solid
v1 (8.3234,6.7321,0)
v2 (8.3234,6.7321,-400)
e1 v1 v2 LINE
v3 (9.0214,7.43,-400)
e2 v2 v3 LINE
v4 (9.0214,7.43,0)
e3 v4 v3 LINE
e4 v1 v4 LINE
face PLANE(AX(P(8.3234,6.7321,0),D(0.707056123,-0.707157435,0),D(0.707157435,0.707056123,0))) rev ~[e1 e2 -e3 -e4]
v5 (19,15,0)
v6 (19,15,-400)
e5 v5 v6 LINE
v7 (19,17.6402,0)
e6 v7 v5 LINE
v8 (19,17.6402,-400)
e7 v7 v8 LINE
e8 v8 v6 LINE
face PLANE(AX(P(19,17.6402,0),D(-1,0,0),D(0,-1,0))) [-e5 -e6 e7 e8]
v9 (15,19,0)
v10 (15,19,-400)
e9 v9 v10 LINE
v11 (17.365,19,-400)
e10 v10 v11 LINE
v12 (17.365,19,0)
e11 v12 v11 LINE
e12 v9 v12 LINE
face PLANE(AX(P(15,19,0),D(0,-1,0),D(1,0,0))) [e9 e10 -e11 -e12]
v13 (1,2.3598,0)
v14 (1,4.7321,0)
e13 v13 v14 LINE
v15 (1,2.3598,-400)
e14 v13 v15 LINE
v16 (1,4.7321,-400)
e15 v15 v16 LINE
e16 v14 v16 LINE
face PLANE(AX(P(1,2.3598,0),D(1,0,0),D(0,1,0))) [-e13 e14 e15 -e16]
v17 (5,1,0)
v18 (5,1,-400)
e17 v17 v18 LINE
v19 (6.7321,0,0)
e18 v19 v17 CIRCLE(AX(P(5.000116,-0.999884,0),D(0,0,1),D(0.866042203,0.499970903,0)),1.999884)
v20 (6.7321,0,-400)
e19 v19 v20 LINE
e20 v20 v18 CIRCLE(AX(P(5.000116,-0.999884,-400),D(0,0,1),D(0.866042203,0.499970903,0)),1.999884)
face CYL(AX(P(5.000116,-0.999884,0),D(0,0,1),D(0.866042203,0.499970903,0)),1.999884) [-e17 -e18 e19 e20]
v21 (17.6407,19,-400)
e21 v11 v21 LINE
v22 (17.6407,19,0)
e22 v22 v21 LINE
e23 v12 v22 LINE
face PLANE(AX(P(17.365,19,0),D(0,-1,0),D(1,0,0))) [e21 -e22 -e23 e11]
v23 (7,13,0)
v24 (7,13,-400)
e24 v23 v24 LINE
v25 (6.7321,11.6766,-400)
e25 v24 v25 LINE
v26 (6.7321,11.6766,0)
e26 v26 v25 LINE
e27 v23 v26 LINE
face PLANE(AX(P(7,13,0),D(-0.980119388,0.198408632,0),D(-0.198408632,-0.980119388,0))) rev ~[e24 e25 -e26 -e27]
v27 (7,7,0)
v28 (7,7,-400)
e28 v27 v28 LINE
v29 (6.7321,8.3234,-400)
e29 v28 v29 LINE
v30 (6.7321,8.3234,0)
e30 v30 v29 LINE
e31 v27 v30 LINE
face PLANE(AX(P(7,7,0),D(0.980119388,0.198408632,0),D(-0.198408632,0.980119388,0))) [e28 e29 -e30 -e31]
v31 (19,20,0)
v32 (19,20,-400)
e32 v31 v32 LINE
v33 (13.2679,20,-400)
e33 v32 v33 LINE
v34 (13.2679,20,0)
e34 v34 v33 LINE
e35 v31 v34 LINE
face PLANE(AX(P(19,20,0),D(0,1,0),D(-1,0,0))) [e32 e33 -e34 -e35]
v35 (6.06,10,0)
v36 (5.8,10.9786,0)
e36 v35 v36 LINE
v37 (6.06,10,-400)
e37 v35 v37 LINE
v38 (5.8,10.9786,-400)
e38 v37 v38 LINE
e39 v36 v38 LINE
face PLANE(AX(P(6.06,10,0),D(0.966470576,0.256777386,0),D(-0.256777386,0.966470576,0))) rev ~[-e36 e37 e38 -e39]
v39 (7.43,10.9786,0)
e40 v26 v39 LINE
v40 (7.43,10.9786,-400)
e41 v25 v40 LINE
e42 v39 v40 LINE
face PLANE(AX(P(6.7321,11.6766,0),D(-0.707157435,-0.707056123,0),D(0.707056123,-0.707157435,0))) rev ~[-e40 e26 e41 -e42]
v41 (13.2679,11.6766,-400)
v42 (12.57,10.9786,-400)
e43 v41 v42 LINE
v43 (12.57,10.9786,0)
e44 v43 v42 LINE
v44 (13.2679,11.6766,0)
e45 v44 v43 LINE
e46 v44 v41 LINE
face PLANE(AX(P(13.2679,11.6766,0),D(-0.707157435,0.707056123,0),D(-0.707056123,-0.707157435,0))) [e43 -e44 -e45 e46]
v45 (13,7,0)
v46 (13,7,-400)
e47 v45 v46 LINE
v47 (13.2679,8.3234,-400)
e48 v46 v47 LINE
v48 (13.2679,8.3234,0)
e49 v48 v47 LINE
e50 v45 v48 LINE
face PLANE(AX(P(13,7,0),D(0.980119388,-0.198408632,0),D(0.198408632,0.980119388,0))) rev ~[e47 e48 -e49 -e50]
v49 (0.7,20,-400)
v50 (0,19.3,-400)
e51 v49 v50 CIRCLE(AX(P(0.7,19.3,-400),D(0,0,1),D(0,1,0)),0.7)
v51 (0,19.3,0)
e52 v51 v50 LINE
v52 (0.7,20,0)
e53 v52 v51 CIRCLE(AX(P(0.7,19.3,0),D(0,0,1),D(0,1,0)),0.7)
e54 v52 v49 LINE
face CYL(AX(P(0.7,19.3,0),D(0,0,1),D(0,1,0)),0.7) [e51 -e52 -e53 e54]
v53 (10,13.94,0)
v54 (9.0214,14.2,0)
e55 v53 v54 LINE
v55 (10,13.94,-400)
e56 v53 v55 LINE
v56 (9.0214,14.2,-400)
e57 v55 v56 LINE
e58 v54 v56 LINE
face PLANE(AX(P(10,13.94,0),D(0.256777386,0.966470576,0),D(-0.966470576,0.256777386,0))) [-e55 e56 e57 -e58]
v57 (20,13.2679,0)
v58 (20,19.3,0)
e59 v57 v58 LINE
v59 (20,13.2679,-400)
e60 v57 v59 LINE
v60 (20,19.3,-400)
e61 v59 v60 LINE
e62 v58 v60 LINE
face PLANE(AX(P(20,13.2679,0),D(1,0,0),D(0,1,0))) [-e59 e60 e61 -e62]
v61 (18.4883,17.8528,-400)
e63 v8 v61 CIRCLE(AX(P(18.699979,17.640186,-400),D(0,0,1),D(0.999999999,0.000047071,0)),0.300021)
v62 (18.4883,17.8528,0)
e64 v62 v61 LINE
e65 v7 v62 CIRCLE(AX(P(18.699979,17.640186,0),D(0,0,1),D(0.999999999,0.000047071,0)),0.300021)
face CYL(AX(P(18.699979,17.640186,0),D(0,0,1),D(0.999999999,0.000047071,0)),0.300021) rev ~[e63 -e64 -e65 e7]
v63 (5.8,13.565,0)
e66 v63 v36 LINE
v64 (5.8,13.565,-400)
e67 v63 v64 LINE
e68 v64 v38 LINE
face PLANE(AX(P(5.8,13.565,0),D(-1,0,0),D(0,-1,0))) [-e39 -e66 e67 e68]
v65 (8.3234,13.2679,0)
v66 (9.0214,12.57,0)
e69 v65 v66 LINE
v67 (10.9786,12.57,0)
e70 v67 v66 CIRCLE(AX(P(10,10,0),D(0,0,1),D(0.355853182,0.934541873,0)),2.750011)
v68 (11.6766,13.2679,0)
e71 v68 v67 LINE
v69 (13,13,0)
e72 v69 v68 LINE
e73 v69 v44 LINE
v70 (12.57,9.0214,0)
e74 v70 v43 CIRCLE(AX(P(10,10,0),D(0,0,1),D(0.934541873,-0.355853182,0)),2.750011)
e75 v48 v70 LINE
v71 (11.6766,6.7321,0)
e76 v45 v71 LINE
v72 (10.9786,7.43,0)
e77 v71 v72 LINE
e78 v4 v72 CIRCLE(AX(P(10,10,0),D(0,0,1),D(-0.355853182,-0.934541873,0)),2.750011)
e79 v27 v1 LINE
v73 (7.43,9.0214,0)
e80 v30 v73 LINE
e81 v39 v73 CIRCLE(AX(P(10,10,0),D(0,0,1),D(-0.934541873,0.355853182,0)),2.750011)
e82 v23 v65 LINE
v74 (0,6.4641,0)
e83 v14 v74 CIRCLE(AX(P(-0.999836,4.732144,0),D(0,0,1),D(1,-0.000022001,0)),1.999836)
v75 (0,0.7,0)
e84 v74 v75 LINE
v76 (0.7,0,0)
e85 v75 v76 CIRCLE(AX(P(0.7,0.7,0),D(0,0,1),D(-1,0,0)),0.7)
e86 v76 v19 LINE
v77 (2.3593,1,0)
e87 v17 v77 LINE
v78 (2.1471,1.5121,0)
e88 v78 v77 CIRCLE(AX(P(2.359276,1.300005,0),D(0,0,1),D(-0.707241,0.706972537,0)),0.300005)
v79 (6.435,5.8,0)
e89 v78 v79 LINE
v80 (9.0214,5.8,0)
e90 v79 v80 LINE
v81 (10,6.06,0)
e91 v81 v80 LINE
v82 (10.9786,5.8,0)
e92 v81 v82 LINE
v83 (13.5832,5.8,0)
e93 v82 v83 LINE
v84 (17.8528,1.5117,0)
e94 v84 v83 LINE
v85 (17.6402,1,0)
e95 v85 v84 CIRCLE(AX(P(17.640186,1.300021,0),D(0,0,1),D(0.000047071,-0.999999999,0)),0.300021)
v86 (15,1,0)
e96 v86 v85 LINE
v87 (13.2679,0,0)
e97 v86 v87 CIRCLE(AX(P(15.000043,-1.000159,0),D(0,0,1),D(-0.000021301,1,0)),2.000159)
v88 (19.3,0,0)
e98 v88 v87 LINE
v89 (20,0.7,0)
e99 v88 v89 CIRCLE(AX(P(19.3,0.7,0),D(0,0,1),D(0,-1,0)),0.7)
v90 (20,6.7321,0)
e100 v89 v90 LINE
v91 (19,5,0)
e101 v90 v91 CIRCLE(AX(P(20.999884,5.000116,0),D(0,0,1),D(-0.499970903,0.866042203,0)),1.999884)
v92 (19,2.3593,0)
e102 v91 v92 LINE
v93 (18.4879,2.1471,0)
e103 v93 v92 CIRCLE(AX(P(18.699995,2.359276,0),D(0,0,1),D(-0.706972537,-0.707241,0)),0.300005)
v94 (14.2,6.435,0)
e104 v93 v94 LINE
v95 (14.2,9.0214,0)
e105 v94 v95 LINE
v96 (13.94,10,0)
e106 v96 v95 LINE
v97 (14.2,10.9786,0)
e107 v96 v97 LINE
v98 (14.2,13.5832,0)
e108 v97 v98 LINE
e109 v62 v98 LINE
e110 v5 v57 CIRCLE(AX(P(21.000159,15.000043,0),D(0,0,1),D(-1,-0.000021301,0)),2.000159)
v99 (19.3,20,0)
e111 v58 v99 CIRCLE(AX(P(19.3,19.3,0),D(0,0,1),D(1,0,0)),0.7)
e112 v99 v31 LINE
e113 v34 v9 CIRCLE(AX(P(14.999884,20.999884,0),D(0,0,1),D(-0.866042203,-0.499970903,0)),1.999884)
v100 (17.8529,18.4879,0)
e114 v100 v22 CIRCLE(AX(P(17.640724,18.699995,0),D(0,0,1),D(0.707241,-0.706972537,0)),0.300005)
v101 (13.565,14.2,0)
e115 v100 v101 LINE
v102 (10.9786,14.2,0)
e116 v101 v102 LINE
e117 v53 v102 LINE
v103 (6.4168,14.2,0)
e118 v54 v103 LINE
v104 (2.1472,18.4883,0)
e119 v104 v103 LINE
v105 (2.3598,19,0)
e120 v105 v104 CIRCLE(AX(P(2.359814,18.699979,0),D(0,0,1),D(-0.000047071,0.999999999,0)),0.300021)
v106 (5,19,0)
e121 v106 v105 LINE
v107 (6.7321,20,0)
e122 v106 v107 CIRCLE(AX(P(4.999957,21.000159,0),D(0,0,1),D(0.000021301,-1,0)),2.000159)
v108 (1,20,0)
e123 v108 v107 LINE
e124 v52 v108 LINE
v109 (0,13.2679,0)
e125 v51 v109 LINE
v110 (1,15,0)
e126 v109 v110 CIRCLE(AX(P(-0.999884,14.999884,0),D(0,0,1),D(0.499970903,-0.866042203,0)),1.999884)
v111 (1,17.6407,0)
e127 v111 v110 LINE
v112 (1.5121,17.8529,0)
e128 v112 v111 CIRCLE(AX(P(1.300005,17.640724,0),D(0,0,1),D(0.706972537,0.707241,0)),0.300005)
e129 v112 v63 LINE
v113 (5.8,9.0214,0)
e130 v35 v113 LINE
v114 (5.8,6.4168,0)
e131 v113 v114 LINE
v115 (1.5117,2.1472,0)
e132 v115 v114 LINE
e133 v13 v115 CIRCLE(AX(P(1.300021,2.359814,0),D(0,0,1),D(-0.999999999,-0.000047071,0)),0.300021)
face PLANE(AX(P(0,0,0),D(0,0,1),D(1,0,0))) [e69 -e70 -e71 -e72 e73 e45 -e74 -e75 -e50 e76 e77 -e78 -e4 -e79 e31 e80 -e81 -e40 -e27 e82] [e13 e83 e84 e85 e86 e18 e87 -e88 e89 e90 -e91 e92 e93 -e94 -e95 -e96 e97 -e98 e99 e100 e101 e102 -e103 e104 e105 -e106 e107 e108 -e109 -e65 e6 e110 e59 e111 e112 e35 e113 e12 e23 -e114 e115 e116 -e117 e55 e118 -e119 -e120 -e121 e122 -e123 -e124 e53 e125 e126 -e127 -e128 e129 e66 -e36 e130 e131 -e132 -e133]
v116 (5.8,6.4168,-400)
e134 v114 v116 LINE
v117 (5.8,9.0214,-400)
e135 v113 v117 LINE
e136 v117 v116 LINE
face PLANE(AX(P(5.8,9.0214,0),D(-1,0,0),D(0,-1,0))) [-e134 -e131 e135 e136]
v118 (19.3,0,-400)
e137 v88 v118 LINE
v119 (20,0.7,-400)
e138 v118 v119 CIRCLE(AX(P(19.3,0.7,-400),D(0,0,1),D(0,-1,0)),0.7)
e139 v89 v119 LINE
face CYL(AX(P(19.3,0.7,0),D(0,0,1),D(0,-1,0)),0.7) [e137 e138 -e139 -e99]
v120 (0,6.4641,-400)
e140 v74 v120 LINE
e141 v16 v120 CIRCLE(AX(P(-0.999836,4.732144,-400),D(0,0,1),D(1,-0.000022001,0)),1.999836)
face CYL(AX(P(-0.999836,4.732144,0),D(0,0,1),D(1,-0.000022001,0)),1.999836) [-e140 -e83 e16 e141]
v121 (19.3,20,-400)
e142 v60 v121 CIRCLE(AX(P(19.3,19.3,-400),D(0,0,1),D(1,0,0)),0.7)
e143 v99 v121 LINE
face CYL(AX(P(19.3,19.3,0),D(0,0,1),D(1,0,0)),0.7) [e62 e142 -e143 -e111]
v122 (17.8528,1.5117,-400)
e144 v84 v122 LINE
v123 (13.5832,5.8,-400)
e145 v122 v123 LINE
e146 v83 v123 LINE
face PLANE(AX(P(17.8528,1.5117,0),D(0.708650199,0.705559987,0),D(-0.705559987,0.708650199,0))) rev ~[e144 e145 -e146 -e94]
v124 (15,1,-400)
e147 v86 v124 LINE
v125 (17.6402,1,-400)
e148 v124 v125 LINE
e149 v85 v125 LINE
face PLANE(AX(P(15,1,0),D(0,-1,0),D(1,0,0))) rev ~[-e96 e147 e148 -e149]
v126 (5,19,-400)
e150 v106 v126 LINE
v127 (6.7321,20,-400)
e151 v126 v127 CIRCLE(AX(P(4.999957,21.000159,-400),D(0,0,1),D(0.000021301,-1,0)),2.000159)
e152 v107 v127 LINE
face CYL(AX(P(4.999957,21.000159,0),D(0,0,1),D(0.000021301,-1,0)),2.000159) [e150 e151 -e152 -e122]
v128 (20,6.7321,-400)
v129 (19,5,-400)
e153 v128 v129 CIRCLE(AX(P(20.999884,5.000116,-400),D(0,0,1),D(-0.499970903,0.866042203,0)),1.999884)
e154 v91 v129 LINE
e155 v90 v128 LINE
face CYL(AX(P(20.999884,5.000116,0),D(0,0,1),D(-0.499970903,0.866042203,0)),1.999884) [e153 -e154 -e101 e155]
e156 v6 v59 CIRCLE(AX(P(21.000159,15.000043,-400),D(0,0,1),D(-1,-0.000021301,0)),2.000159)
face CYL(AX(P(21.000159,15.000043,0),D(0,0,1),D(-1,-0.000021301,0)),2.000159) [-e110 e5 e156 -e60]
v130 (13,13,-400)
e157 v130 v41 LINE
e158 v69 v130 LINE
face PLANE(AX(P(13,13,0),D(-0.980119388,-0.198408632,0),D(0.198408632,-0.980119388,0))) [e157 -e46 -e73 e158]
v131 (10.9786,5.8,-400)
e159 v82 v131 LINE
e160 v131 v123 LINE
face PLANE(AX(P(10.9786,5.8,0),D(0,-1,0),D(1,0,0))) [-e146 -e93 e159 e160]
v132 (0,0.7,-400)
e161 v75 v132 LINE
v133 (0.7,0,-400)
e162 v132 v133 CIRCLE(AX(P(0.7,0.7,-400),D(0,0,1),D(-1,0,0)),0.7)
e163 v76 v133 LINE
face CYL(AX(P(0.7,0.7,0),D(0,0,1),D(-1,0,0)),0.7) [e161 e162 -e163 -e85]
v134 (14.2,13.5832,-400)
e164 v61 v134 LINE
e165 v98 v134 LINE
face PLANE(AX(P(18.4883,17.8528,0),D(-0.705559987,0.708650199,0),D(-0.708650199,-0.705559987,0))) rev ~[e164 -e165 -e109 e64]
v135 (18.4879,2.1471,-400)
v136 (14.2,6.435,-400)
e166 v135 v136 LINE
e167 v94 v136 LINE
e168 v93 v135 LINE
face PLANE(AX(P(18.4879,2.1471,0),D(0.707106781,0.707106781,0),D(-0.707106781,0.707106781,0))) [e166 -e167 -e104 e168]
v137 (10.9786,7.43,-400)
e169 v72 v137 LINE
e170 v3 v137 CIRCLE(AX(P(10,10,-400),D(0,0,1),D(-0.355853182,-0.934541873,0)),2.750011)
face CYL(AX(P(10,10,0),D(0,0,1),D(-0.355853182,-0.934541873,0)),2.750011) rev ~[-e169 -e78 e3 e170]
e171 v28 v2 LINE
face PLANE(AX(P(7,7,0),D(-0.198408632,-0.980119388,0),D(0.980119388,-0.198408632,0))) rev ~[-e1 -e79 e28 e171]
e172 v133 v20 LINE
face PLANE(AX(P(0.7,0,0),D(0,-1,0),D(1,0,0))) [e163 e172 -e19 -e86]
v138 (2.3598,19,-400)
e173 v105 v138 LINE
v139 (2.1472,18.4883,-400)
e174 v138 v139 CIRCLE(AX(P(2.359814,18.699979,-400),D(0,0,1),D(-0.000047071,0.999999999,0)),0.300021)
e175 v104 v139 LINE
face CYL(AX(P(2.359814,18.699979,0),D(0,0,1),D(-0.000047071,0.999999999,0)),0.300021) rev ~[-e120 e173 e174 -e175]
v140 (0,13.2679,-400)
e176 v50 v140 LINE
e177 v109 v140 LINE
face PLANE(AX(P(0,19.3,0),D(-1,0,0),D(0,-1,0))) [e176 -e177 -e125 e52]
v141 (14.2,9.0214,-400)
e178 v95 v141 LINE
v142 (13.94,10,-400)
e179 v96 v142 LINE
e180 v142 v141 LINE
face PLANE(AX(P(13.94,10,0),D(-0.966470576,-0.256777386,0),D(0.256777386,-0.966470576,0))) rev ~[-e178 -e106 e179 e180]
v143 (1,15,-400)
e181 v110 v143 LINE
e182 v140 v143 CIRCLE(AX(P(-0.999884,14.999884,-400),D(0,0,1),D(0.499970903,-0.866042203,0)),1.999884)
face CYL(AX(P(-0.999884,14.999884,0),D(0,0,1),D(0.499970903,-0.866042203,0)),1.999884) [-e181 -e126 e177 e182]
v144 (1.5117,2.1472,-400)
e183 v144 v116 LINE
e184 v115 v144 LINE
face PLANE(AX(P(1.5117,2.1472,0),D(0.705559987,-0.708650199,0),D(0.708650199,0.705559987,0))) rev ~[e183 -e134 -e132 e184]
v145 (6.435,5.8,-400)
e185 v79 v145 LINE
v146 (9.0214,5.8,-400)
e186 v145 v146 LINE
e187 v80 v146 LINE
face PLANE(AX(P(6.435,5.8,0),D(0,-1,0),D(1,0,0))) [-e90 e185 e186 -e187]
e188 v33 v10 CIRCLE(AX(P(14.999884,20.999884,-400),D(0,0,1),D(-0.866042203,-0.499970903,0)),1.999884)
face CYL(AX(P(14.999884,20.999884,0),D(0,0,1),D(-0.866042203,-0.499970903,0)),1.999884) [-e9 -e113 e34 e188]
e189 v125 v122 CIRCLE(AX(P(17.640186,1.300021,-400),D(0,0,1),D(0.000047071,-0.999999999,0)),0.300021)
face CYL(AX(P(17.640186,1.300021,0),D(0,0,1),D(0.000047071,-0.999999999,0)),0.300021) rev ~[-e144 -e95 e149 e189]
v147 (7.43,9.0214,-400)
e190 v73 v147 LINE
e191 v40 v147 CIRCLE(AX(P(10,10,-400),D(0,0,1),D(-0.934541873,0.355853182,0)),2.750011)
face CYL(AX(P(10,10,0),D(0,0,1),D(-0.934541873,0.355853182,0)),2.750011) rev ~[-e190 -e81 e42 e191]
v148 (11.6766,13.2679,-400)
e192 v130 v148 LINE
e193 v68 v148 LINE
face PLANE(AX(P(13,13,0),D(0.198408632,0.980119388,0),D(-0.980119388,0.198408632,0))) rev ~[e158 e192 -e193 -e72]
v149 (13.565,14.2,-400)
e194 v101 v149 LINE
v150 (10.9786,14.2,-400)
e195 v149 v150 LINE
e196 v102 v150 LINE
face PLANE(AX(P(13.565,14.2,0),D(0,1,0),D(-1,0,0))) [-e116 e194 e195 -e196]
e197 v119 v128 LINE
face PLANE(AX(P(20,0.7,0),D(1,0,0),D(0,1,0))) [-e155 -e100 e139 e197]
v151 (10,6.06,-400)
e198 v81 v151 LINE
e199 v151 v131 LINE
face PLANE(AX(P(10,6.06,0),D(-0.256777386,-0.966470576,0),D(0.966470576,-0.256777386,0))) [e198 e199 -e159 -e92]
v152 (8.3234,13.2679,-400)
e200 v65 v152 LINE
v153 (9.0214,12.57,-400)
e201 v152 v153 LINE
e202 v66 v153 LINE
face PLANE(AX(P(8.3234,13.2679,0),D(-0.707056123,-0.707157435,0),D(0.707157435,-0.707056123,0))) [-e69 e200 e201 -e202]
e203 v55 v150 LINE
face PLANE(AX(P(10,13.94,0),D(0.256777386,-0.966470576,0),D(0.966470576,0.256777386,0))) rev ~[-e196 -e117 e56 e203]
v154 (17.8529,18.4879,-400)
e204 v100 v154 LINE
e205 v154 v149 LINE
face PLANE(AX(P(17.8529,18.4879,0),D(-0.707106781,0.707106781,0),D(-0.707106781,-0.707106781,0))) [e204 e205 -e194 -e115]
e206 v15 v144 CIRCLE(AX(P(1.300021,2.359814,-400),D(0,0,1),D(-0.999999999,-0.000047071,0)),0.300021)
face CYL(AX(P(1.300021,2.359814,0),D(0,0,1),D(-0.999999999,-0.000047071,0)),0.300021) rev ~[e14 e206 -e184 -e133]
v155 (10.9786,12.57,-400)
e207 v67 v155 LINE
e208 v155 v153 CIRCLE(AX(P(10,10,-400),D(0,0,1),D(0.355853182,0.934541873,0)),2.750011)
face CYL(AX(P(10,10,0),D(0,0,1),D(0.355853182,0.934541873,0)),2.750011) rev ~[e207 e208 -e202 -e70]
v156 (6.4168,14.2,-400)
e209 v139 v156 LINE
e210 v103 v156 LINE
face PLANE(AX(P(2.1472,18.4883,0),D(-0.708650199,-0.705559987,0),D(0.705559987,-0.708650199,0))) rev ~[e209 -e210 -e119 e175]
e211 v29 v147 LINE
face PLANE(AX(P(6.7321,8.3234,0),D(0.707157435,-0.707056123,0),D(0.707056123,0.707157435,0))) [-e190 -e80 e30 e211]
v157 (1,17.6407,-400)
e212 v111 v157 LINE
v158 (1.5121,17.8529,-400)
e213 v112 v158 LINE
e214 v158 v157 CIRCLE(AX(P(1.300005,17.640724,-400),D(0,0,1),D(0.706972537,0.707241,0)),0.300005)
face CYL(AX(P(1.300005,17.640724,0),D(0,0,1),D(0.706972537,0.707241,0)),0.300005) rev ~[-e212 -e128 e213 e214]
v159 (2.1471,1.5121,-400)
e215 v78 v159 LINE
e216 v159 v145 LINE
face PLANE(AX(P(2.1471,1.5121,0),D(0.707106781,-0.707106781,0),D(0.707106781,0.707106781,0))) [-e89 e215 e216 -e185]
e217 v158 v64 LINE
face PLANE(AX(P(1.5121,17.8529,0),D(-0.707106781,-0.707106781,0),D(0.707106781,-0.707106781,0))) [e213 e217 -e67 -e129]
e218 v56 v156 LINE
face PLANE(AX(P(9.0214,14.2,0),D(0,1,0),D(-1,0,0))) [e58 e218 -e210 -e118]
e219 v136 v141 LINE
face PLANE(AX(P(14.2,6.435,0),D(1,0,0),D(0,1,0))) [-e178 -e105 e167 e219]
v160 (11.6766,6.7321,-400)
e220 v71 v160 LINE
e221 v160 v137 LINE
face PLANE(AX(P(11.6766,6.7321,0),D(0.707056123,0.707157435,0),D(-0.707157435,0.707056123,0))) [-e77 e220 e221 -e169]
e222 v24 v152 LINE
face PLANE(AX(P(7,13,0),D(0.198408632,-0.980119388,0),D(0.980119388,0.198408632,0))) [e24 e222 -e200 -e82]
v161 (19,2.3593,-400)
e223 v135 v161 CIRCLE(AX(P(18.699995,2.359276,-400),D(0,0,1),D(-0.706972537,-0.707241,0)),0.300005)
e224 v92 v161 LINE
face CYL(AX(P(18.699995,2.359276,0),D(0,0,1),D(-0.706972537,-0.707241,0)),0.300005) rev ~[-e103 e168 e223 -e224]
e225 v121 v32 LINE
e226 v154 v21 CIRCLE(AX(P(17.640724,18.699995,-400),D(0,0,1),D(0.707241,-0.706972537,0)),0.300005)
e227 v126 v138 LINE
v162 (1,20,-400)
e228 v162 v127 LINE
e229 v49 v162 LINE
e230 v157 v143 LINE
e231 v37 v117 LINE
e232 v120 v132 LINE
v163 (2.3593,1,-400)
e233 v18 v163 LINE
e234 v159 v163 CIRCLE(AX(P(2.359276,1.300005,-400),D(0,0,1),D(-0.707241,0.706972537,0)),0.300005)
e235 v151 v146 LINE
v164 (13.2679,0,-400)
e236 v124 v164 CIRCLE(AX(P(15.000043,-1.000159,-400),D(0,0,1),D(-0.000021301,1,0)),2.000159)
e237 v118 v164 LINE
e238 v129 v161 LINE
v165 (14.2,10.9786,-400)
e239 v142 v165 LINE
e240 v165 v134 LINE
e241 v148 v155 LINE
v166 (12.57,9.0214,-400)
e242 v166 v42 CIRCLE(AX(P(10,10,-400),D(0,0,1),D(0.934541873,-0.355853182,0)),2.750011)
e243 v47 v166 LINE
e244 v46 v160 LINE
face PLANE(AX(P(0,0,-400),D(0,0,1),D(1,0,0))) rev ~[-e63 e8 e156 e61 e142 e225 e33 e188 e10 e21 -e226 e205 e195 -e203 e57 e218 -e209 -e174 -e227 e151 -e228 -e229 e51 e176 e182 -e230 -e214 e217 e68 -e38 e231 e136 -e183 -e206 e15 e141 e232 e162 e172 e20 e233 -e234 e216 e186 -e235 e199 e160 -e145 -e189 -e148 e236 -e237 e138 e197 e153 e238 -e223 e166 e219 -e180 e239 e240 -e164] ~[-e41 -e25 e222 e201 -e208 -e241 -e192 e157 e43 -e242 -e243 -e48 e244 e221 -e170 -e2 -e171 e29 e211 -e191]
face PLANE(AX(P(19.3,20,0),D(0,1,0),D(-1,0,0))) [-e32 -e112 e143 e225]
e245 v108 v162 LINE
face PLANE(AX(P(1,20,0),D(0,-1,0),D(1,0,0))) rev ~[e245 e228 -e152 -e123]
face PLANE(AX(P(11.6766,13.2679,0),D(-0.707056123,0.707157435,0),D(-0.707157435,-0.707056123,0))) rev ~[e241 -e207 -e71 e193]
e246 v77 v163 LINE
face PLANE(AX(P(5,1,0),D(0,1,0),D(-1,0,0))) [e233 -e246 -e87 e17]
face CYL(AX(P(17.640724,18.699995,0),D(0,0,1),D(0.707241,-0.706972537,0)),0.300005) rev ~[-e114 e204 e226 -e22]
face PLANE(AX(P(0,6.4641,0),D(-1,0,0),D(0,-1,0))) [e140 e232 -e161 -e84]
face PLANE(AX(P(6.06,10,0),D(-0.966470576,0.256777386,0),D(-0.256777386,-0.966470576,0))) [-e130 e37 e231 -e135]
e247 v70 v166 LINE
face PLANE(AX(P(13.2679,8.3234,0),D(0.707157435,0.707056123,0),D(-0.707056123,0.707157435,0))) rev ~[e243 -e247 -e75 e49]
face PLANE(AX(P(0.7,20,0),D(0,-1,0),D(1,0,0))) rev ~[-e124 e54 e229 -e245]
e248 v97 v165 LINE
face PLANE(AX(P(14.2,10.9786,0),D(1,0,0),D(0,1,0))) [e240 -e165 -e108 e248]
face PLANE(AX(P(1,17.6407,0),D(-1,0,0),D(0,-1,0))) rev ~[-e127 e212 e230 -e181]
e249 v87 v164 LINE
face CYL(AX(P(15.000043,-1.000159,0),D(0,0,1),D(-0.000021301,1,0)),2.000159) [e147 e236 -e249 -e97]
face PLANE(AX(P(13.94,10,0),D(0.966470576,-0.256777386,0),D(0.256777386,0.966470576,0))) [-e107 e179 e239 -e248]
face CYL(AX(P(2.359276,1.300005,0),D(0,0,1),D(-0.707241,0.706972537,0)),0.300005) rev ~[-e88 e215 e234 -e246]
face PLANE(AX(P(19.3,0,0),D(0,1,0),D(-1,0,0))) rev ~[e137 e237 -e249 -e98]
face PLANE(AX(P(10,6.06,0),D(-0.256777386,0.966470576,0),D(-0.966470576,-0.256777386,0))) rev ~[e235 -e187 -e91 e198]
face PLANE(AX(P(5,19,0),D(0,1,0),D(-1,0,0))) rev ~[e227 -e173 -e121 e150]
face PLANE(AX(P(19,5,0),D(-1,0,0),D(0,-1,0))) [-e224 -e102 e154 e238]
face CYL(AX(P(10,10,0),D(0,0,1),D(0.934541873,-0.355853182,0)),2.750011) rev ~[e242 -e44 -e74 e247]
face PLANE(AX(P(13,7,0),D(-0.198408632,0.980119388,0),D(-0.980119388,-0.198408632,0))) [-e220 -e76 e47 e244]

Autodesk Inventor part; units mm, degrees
ref_plane "YZ Plane" through (0, 0, 0) normal (1, 0, 0) x (0, 1, 0)
ref_plane "XZ Plane" through (0, 0, 0) normal (0, 1, 0) x (-1, 0, 0)
ref_plane "XY Plane" through (0, 0, 0) normal (0, 0, 1) x (1, 0, 0)
sketch "Boceto1" plane through (0, 0, 0) normal (0, 0, 1) x (1, 0, 0)
  line L0 (0, 20) -> (7, 20)
  line L1 (7, 20) -> (7, 21)
  line L2 (0, 20) -> (1, 20)
  line L3 (1, 17.6407) -> (1, 15)
  line L4 (-1, 13) -> (0, 13)
  line L5 (5, 19) -> (2.3598, 19)
  arc A0 (5, 19) -> (6.7321, 20) centre (5, 21) ccw
  arc A1 (0, 13.2679) -> (1, 15) centre (-1, 15) ccw
  line L6 (20, 20) -> (13, 20)
  line L7 (19.3, 20) -> (19, 20)
  line L8 (19, 17.6402) -> (19, 15)
  line L9 (21, 13) -> (20, 13)
  line L10 (13, 20) -> (13, 21)
  line L11 (15, 19) -> (18.365, 19)
  arc A2 (13.2679, 20) -> (15, 19) centre (15, 21) ccw
  arc A3 (19, 15) -> (20, 13.2679) centre (21, 15) ccw
  line L12 (0.7, 0) -> (7, 0)
  line L13 (-1, 8.6378) -> (0, 8.6378)
  line L14 (7, 0) -> (7, -1)
  line L15 (5, 1) -> (2.3593, 1)
  line L16 (19.3, 0) -> (13, 0)
  line L17 (13, 0) -> (13, -1)
  line L18 (15, 1) -> (17.6402, 1)
  line L19 (19, 5) -> (19, 2.3593)
  arc A4 (20, 6.7321) -> (19, 5) centre (21, 5) ccw
  arc A5 (15, 1) -> (13.2679, 0) centre (15, -1) ccw
  arc A6 (6.7321, 0) -> (5, 1) centre (5, -1) ccw
  line L20 (20, 20) -> (13, 20)
  line L21 (7, 20) -> (0.7, 20)
  line L22 (0, 19.3) -> (0, 13)
  line L23 (0, 6.4641) -> (0, 0.7)
  line L24 (20, 0.7) -> (20, 6.7321)
  line L25 (20, 13) -> (20, 19.3)
  line L26 (0, 0) -> (7, 0)
  line L27 (13, 0) -> (20, 0)
  line L28 (17.6407, 19) -> (17.365, 19)
  line L29 (17.8529, 18.4879) -> (13.565, 14.2)
  line L30 (18.4883, 17.8528) -> (14.2, 13.5832)
  line L31 (1.5121, 17.8529) -> (5.8, 13.565)
  line L32 (2.1472, 18.4883) -> (6.4168, 14.2)
  line L33 (2.1471, 1.5121) -> (6.435, 5.8)
  line L34 (1.5117, 2.1472) -> (5.8, 6.4168)
  line L35 (18.4879, 2.1471) -> (14.2, 6.435)
  line L36 (17.8528, 1.5117) -> (13.5832, 5.8)
  line L37 (13, 13) -> (11.6766, 13.2679)
  line L38 (11.6766, 13.2679) -> (10.9786, 12.57)
  line L39 (13, 13) -> (13.2679, 11.6766)
  line L40 (13.2679, 11.6766) -> (12.57, 10.9786)
  line L41 (6.7321, 11.6766) -> (7.43, 10.9786)
  line L42 (7, 13) -> (6.7321, 11.6766)
  line L43 (7, 13) -> (8.3234, 13.2679)
  line L44 (8.3234, 13.2679) -> (9.0214, 12.57)
  line L45 (8.3234, 6.7321) -> (9.0214, 7.43)
  line L46 (7, 7) -> (8.3234, 6.7321)
  line L47 (7, 7) -> (6.7321, 8.3234)
  line L48 (6.7321, 8.3234) -> (7.43, 9.0214)
  line L49 (13.2679, 8.3234) -> (12.57, 9.0214)
  line L50 (13, 7) -> (13.2679, 8.3234)
  line L51 (13, 7) -> (11.6766, 6.7321)
  line L52 (11.6766, 6.7321) -> (10.9786, 7.43)
  line L53 (7, 13) -> (5.8, 14.2) construction
  line L54 (5.8, 5.8) -> (7, 7) construction
  line L55 (14.2, 5.8) -> (13, 7) construction
  line L56 (11.9445, 8.0555) -> (8.0555, 11.9445) construction
  line L57 (8.0555, 8.0555) -> (11.9445, 11.9445) construction
  line L58 (13, 13) -> (14.2, 14.2) construction
  arc A7 (10.9786, 12.57) -> (9.0214, 12.57) centre (10, 10) ccw
  arc A8 (12.57, 9.0214) -> (12.57, 10.9786) centre (10, 10) ccw
  arc A9 (7.43, 10.9786) -> (7.43, 9.0214) centre (10, 10) ccw
  arc A10 (9.0214, 7.43) -> (10.9786, 7.43) centre (10, 10) ccw
  line L59 (13.94, 10) -> (14.2, 10.9786)
  line L60 (13.94, 10) -> (14.2, 9.0214)
  line L61 (14.2, 6.435) -> (14.2, 9.0214)
  line L62 (14.2, 10.9786) -> (14.2, 13.5832)
  line L63 (10, 13.94) -> (10.9786, 14.2)
  line L64 (10.9786, 14.2) -> (10, 13.94)
  line L65 (10, 13.94) -> (9.0214, 14.2)
  line L66 (6.06, 10) -> (5.8, 10.9786)
  line L67 (6.06, 10) -> (5.8, 9.0214)
  line L68 (10, 6.06) -> (10.9786, 5.8)
  line L69 (10, 6.06) -> (9.0214, 5.8)
  line L70 (6.435, 5.8) -> (9.0214, 5.8)
  line L71 (10.9786, 5.8) -> (13.5832, 5.8)
  line L72 (5.8, 13.565) -> (5.8, 10.9786)
  line L73 (5.8, 9.0214) -> (5.8, 6.4168)
  line L74 (13.565, 14.2) -> (10.9786, 14.2)
  line L75 (9.0214, 14.2) -> (6.4168, 14.2)
  line L76 (1, 2.3598) -> (1, 4.7321)
  arc A11 (1, 4.7321) -> (0, 6.4641) centre (-1, 4.7321) ccw
  arc A12 (0.7, 20) -> (0, 19.3) centre (0.7, 19.3) ccw
  arc A13 (20, 19.3) -> (19.3, 20) centre (19.3, 19.3) ccw
  arc A14 (19.3, 0) -> (20, 0.7) centre (19.3, 0.7) ccw
  arc A15 (0, 0.7) -> (0.7, 0) centre (0.7, 0.7) ccw
  arc A16 (2.3598, 19) -> (2.1472, 18.4883) centre (2.3598, 18.7) ccw
  arc A17 (1.5121, 17.8529) -> (1, 17.6407) centre (1.3, 17.6407) ccw
  arc A18 (17.8529, 18.4879) -> (17.6407, 19) centre (17.6407, 18.7) ccw
  arc A19 (19, 17.6402) -> (18.4883, 17.8528) centre (18.7, 17.6402) ccw
  arc A20 (18.4879, 2.1471) -> (19, 2.3593) centre (18.7, 2.3593) ccw
  arc A21 (17.6402, 1) -> (17.8528, 1.5117) centre (17.6402, 1.3) ccw
  arc A22 (2.1471, 1.5121) -> (2.3593, 1) centre (2.3593, 1.3) ccw
  arc A23 (1, 2.3598) -> (1.5117, 2.1472) centre (1.3, 2.3598) ccw
  point P0 (7, 19)
  point P1 (1, 13)
  point P2 (19, 13)
  point P3 (1, 1.6378)
  point P4 (1, 8.6378)
  point P5 (7, 1)
  point P6 (13, 1)
  point P7 (19, 1.635)
  point P8 (1, 18.365)
  point P9 (19, 18.3622)
  point P10 (19.6406, 19)
  point P11 (1, 19.6406)
  point P12 (0.3594, 1)
  point P13 (19, 0.3594)
  point P14 (1.6378, 19)
  point P15 (1.635, 1)
  point P16 (18.3622, 1)
  dimension "d1" = 20
  dimension "d2" = 20
  dimension "d5" = 7
  dimension "d6" = 1
  dimension "d7" = 1
  dimension "d8" = 7
  dimension "d9" = 2
  dimension "d10" = 2
  dimension "d11" = 7
  dimension "d12" = 1
  dimension "d13" = 7
  dimension "d14" = 2
  dimension "d15" = 7
  dimension "d16" = 1
  dimension "d17" = 7
  dimension "d20" = 8.4
  dimension "d21" = 8.4
  dimension "d23" = 0.9
  dimension "d26" = 360
  dimension "d30" = 360
  dimension "d38" = 2
  dimension "d41" = 0.7
  dimension "d42" = 0.3
extrude "Extrusión3" add sketch "Boceto1" against normal blind 400
properties part number "PerfilBaseJohan"
